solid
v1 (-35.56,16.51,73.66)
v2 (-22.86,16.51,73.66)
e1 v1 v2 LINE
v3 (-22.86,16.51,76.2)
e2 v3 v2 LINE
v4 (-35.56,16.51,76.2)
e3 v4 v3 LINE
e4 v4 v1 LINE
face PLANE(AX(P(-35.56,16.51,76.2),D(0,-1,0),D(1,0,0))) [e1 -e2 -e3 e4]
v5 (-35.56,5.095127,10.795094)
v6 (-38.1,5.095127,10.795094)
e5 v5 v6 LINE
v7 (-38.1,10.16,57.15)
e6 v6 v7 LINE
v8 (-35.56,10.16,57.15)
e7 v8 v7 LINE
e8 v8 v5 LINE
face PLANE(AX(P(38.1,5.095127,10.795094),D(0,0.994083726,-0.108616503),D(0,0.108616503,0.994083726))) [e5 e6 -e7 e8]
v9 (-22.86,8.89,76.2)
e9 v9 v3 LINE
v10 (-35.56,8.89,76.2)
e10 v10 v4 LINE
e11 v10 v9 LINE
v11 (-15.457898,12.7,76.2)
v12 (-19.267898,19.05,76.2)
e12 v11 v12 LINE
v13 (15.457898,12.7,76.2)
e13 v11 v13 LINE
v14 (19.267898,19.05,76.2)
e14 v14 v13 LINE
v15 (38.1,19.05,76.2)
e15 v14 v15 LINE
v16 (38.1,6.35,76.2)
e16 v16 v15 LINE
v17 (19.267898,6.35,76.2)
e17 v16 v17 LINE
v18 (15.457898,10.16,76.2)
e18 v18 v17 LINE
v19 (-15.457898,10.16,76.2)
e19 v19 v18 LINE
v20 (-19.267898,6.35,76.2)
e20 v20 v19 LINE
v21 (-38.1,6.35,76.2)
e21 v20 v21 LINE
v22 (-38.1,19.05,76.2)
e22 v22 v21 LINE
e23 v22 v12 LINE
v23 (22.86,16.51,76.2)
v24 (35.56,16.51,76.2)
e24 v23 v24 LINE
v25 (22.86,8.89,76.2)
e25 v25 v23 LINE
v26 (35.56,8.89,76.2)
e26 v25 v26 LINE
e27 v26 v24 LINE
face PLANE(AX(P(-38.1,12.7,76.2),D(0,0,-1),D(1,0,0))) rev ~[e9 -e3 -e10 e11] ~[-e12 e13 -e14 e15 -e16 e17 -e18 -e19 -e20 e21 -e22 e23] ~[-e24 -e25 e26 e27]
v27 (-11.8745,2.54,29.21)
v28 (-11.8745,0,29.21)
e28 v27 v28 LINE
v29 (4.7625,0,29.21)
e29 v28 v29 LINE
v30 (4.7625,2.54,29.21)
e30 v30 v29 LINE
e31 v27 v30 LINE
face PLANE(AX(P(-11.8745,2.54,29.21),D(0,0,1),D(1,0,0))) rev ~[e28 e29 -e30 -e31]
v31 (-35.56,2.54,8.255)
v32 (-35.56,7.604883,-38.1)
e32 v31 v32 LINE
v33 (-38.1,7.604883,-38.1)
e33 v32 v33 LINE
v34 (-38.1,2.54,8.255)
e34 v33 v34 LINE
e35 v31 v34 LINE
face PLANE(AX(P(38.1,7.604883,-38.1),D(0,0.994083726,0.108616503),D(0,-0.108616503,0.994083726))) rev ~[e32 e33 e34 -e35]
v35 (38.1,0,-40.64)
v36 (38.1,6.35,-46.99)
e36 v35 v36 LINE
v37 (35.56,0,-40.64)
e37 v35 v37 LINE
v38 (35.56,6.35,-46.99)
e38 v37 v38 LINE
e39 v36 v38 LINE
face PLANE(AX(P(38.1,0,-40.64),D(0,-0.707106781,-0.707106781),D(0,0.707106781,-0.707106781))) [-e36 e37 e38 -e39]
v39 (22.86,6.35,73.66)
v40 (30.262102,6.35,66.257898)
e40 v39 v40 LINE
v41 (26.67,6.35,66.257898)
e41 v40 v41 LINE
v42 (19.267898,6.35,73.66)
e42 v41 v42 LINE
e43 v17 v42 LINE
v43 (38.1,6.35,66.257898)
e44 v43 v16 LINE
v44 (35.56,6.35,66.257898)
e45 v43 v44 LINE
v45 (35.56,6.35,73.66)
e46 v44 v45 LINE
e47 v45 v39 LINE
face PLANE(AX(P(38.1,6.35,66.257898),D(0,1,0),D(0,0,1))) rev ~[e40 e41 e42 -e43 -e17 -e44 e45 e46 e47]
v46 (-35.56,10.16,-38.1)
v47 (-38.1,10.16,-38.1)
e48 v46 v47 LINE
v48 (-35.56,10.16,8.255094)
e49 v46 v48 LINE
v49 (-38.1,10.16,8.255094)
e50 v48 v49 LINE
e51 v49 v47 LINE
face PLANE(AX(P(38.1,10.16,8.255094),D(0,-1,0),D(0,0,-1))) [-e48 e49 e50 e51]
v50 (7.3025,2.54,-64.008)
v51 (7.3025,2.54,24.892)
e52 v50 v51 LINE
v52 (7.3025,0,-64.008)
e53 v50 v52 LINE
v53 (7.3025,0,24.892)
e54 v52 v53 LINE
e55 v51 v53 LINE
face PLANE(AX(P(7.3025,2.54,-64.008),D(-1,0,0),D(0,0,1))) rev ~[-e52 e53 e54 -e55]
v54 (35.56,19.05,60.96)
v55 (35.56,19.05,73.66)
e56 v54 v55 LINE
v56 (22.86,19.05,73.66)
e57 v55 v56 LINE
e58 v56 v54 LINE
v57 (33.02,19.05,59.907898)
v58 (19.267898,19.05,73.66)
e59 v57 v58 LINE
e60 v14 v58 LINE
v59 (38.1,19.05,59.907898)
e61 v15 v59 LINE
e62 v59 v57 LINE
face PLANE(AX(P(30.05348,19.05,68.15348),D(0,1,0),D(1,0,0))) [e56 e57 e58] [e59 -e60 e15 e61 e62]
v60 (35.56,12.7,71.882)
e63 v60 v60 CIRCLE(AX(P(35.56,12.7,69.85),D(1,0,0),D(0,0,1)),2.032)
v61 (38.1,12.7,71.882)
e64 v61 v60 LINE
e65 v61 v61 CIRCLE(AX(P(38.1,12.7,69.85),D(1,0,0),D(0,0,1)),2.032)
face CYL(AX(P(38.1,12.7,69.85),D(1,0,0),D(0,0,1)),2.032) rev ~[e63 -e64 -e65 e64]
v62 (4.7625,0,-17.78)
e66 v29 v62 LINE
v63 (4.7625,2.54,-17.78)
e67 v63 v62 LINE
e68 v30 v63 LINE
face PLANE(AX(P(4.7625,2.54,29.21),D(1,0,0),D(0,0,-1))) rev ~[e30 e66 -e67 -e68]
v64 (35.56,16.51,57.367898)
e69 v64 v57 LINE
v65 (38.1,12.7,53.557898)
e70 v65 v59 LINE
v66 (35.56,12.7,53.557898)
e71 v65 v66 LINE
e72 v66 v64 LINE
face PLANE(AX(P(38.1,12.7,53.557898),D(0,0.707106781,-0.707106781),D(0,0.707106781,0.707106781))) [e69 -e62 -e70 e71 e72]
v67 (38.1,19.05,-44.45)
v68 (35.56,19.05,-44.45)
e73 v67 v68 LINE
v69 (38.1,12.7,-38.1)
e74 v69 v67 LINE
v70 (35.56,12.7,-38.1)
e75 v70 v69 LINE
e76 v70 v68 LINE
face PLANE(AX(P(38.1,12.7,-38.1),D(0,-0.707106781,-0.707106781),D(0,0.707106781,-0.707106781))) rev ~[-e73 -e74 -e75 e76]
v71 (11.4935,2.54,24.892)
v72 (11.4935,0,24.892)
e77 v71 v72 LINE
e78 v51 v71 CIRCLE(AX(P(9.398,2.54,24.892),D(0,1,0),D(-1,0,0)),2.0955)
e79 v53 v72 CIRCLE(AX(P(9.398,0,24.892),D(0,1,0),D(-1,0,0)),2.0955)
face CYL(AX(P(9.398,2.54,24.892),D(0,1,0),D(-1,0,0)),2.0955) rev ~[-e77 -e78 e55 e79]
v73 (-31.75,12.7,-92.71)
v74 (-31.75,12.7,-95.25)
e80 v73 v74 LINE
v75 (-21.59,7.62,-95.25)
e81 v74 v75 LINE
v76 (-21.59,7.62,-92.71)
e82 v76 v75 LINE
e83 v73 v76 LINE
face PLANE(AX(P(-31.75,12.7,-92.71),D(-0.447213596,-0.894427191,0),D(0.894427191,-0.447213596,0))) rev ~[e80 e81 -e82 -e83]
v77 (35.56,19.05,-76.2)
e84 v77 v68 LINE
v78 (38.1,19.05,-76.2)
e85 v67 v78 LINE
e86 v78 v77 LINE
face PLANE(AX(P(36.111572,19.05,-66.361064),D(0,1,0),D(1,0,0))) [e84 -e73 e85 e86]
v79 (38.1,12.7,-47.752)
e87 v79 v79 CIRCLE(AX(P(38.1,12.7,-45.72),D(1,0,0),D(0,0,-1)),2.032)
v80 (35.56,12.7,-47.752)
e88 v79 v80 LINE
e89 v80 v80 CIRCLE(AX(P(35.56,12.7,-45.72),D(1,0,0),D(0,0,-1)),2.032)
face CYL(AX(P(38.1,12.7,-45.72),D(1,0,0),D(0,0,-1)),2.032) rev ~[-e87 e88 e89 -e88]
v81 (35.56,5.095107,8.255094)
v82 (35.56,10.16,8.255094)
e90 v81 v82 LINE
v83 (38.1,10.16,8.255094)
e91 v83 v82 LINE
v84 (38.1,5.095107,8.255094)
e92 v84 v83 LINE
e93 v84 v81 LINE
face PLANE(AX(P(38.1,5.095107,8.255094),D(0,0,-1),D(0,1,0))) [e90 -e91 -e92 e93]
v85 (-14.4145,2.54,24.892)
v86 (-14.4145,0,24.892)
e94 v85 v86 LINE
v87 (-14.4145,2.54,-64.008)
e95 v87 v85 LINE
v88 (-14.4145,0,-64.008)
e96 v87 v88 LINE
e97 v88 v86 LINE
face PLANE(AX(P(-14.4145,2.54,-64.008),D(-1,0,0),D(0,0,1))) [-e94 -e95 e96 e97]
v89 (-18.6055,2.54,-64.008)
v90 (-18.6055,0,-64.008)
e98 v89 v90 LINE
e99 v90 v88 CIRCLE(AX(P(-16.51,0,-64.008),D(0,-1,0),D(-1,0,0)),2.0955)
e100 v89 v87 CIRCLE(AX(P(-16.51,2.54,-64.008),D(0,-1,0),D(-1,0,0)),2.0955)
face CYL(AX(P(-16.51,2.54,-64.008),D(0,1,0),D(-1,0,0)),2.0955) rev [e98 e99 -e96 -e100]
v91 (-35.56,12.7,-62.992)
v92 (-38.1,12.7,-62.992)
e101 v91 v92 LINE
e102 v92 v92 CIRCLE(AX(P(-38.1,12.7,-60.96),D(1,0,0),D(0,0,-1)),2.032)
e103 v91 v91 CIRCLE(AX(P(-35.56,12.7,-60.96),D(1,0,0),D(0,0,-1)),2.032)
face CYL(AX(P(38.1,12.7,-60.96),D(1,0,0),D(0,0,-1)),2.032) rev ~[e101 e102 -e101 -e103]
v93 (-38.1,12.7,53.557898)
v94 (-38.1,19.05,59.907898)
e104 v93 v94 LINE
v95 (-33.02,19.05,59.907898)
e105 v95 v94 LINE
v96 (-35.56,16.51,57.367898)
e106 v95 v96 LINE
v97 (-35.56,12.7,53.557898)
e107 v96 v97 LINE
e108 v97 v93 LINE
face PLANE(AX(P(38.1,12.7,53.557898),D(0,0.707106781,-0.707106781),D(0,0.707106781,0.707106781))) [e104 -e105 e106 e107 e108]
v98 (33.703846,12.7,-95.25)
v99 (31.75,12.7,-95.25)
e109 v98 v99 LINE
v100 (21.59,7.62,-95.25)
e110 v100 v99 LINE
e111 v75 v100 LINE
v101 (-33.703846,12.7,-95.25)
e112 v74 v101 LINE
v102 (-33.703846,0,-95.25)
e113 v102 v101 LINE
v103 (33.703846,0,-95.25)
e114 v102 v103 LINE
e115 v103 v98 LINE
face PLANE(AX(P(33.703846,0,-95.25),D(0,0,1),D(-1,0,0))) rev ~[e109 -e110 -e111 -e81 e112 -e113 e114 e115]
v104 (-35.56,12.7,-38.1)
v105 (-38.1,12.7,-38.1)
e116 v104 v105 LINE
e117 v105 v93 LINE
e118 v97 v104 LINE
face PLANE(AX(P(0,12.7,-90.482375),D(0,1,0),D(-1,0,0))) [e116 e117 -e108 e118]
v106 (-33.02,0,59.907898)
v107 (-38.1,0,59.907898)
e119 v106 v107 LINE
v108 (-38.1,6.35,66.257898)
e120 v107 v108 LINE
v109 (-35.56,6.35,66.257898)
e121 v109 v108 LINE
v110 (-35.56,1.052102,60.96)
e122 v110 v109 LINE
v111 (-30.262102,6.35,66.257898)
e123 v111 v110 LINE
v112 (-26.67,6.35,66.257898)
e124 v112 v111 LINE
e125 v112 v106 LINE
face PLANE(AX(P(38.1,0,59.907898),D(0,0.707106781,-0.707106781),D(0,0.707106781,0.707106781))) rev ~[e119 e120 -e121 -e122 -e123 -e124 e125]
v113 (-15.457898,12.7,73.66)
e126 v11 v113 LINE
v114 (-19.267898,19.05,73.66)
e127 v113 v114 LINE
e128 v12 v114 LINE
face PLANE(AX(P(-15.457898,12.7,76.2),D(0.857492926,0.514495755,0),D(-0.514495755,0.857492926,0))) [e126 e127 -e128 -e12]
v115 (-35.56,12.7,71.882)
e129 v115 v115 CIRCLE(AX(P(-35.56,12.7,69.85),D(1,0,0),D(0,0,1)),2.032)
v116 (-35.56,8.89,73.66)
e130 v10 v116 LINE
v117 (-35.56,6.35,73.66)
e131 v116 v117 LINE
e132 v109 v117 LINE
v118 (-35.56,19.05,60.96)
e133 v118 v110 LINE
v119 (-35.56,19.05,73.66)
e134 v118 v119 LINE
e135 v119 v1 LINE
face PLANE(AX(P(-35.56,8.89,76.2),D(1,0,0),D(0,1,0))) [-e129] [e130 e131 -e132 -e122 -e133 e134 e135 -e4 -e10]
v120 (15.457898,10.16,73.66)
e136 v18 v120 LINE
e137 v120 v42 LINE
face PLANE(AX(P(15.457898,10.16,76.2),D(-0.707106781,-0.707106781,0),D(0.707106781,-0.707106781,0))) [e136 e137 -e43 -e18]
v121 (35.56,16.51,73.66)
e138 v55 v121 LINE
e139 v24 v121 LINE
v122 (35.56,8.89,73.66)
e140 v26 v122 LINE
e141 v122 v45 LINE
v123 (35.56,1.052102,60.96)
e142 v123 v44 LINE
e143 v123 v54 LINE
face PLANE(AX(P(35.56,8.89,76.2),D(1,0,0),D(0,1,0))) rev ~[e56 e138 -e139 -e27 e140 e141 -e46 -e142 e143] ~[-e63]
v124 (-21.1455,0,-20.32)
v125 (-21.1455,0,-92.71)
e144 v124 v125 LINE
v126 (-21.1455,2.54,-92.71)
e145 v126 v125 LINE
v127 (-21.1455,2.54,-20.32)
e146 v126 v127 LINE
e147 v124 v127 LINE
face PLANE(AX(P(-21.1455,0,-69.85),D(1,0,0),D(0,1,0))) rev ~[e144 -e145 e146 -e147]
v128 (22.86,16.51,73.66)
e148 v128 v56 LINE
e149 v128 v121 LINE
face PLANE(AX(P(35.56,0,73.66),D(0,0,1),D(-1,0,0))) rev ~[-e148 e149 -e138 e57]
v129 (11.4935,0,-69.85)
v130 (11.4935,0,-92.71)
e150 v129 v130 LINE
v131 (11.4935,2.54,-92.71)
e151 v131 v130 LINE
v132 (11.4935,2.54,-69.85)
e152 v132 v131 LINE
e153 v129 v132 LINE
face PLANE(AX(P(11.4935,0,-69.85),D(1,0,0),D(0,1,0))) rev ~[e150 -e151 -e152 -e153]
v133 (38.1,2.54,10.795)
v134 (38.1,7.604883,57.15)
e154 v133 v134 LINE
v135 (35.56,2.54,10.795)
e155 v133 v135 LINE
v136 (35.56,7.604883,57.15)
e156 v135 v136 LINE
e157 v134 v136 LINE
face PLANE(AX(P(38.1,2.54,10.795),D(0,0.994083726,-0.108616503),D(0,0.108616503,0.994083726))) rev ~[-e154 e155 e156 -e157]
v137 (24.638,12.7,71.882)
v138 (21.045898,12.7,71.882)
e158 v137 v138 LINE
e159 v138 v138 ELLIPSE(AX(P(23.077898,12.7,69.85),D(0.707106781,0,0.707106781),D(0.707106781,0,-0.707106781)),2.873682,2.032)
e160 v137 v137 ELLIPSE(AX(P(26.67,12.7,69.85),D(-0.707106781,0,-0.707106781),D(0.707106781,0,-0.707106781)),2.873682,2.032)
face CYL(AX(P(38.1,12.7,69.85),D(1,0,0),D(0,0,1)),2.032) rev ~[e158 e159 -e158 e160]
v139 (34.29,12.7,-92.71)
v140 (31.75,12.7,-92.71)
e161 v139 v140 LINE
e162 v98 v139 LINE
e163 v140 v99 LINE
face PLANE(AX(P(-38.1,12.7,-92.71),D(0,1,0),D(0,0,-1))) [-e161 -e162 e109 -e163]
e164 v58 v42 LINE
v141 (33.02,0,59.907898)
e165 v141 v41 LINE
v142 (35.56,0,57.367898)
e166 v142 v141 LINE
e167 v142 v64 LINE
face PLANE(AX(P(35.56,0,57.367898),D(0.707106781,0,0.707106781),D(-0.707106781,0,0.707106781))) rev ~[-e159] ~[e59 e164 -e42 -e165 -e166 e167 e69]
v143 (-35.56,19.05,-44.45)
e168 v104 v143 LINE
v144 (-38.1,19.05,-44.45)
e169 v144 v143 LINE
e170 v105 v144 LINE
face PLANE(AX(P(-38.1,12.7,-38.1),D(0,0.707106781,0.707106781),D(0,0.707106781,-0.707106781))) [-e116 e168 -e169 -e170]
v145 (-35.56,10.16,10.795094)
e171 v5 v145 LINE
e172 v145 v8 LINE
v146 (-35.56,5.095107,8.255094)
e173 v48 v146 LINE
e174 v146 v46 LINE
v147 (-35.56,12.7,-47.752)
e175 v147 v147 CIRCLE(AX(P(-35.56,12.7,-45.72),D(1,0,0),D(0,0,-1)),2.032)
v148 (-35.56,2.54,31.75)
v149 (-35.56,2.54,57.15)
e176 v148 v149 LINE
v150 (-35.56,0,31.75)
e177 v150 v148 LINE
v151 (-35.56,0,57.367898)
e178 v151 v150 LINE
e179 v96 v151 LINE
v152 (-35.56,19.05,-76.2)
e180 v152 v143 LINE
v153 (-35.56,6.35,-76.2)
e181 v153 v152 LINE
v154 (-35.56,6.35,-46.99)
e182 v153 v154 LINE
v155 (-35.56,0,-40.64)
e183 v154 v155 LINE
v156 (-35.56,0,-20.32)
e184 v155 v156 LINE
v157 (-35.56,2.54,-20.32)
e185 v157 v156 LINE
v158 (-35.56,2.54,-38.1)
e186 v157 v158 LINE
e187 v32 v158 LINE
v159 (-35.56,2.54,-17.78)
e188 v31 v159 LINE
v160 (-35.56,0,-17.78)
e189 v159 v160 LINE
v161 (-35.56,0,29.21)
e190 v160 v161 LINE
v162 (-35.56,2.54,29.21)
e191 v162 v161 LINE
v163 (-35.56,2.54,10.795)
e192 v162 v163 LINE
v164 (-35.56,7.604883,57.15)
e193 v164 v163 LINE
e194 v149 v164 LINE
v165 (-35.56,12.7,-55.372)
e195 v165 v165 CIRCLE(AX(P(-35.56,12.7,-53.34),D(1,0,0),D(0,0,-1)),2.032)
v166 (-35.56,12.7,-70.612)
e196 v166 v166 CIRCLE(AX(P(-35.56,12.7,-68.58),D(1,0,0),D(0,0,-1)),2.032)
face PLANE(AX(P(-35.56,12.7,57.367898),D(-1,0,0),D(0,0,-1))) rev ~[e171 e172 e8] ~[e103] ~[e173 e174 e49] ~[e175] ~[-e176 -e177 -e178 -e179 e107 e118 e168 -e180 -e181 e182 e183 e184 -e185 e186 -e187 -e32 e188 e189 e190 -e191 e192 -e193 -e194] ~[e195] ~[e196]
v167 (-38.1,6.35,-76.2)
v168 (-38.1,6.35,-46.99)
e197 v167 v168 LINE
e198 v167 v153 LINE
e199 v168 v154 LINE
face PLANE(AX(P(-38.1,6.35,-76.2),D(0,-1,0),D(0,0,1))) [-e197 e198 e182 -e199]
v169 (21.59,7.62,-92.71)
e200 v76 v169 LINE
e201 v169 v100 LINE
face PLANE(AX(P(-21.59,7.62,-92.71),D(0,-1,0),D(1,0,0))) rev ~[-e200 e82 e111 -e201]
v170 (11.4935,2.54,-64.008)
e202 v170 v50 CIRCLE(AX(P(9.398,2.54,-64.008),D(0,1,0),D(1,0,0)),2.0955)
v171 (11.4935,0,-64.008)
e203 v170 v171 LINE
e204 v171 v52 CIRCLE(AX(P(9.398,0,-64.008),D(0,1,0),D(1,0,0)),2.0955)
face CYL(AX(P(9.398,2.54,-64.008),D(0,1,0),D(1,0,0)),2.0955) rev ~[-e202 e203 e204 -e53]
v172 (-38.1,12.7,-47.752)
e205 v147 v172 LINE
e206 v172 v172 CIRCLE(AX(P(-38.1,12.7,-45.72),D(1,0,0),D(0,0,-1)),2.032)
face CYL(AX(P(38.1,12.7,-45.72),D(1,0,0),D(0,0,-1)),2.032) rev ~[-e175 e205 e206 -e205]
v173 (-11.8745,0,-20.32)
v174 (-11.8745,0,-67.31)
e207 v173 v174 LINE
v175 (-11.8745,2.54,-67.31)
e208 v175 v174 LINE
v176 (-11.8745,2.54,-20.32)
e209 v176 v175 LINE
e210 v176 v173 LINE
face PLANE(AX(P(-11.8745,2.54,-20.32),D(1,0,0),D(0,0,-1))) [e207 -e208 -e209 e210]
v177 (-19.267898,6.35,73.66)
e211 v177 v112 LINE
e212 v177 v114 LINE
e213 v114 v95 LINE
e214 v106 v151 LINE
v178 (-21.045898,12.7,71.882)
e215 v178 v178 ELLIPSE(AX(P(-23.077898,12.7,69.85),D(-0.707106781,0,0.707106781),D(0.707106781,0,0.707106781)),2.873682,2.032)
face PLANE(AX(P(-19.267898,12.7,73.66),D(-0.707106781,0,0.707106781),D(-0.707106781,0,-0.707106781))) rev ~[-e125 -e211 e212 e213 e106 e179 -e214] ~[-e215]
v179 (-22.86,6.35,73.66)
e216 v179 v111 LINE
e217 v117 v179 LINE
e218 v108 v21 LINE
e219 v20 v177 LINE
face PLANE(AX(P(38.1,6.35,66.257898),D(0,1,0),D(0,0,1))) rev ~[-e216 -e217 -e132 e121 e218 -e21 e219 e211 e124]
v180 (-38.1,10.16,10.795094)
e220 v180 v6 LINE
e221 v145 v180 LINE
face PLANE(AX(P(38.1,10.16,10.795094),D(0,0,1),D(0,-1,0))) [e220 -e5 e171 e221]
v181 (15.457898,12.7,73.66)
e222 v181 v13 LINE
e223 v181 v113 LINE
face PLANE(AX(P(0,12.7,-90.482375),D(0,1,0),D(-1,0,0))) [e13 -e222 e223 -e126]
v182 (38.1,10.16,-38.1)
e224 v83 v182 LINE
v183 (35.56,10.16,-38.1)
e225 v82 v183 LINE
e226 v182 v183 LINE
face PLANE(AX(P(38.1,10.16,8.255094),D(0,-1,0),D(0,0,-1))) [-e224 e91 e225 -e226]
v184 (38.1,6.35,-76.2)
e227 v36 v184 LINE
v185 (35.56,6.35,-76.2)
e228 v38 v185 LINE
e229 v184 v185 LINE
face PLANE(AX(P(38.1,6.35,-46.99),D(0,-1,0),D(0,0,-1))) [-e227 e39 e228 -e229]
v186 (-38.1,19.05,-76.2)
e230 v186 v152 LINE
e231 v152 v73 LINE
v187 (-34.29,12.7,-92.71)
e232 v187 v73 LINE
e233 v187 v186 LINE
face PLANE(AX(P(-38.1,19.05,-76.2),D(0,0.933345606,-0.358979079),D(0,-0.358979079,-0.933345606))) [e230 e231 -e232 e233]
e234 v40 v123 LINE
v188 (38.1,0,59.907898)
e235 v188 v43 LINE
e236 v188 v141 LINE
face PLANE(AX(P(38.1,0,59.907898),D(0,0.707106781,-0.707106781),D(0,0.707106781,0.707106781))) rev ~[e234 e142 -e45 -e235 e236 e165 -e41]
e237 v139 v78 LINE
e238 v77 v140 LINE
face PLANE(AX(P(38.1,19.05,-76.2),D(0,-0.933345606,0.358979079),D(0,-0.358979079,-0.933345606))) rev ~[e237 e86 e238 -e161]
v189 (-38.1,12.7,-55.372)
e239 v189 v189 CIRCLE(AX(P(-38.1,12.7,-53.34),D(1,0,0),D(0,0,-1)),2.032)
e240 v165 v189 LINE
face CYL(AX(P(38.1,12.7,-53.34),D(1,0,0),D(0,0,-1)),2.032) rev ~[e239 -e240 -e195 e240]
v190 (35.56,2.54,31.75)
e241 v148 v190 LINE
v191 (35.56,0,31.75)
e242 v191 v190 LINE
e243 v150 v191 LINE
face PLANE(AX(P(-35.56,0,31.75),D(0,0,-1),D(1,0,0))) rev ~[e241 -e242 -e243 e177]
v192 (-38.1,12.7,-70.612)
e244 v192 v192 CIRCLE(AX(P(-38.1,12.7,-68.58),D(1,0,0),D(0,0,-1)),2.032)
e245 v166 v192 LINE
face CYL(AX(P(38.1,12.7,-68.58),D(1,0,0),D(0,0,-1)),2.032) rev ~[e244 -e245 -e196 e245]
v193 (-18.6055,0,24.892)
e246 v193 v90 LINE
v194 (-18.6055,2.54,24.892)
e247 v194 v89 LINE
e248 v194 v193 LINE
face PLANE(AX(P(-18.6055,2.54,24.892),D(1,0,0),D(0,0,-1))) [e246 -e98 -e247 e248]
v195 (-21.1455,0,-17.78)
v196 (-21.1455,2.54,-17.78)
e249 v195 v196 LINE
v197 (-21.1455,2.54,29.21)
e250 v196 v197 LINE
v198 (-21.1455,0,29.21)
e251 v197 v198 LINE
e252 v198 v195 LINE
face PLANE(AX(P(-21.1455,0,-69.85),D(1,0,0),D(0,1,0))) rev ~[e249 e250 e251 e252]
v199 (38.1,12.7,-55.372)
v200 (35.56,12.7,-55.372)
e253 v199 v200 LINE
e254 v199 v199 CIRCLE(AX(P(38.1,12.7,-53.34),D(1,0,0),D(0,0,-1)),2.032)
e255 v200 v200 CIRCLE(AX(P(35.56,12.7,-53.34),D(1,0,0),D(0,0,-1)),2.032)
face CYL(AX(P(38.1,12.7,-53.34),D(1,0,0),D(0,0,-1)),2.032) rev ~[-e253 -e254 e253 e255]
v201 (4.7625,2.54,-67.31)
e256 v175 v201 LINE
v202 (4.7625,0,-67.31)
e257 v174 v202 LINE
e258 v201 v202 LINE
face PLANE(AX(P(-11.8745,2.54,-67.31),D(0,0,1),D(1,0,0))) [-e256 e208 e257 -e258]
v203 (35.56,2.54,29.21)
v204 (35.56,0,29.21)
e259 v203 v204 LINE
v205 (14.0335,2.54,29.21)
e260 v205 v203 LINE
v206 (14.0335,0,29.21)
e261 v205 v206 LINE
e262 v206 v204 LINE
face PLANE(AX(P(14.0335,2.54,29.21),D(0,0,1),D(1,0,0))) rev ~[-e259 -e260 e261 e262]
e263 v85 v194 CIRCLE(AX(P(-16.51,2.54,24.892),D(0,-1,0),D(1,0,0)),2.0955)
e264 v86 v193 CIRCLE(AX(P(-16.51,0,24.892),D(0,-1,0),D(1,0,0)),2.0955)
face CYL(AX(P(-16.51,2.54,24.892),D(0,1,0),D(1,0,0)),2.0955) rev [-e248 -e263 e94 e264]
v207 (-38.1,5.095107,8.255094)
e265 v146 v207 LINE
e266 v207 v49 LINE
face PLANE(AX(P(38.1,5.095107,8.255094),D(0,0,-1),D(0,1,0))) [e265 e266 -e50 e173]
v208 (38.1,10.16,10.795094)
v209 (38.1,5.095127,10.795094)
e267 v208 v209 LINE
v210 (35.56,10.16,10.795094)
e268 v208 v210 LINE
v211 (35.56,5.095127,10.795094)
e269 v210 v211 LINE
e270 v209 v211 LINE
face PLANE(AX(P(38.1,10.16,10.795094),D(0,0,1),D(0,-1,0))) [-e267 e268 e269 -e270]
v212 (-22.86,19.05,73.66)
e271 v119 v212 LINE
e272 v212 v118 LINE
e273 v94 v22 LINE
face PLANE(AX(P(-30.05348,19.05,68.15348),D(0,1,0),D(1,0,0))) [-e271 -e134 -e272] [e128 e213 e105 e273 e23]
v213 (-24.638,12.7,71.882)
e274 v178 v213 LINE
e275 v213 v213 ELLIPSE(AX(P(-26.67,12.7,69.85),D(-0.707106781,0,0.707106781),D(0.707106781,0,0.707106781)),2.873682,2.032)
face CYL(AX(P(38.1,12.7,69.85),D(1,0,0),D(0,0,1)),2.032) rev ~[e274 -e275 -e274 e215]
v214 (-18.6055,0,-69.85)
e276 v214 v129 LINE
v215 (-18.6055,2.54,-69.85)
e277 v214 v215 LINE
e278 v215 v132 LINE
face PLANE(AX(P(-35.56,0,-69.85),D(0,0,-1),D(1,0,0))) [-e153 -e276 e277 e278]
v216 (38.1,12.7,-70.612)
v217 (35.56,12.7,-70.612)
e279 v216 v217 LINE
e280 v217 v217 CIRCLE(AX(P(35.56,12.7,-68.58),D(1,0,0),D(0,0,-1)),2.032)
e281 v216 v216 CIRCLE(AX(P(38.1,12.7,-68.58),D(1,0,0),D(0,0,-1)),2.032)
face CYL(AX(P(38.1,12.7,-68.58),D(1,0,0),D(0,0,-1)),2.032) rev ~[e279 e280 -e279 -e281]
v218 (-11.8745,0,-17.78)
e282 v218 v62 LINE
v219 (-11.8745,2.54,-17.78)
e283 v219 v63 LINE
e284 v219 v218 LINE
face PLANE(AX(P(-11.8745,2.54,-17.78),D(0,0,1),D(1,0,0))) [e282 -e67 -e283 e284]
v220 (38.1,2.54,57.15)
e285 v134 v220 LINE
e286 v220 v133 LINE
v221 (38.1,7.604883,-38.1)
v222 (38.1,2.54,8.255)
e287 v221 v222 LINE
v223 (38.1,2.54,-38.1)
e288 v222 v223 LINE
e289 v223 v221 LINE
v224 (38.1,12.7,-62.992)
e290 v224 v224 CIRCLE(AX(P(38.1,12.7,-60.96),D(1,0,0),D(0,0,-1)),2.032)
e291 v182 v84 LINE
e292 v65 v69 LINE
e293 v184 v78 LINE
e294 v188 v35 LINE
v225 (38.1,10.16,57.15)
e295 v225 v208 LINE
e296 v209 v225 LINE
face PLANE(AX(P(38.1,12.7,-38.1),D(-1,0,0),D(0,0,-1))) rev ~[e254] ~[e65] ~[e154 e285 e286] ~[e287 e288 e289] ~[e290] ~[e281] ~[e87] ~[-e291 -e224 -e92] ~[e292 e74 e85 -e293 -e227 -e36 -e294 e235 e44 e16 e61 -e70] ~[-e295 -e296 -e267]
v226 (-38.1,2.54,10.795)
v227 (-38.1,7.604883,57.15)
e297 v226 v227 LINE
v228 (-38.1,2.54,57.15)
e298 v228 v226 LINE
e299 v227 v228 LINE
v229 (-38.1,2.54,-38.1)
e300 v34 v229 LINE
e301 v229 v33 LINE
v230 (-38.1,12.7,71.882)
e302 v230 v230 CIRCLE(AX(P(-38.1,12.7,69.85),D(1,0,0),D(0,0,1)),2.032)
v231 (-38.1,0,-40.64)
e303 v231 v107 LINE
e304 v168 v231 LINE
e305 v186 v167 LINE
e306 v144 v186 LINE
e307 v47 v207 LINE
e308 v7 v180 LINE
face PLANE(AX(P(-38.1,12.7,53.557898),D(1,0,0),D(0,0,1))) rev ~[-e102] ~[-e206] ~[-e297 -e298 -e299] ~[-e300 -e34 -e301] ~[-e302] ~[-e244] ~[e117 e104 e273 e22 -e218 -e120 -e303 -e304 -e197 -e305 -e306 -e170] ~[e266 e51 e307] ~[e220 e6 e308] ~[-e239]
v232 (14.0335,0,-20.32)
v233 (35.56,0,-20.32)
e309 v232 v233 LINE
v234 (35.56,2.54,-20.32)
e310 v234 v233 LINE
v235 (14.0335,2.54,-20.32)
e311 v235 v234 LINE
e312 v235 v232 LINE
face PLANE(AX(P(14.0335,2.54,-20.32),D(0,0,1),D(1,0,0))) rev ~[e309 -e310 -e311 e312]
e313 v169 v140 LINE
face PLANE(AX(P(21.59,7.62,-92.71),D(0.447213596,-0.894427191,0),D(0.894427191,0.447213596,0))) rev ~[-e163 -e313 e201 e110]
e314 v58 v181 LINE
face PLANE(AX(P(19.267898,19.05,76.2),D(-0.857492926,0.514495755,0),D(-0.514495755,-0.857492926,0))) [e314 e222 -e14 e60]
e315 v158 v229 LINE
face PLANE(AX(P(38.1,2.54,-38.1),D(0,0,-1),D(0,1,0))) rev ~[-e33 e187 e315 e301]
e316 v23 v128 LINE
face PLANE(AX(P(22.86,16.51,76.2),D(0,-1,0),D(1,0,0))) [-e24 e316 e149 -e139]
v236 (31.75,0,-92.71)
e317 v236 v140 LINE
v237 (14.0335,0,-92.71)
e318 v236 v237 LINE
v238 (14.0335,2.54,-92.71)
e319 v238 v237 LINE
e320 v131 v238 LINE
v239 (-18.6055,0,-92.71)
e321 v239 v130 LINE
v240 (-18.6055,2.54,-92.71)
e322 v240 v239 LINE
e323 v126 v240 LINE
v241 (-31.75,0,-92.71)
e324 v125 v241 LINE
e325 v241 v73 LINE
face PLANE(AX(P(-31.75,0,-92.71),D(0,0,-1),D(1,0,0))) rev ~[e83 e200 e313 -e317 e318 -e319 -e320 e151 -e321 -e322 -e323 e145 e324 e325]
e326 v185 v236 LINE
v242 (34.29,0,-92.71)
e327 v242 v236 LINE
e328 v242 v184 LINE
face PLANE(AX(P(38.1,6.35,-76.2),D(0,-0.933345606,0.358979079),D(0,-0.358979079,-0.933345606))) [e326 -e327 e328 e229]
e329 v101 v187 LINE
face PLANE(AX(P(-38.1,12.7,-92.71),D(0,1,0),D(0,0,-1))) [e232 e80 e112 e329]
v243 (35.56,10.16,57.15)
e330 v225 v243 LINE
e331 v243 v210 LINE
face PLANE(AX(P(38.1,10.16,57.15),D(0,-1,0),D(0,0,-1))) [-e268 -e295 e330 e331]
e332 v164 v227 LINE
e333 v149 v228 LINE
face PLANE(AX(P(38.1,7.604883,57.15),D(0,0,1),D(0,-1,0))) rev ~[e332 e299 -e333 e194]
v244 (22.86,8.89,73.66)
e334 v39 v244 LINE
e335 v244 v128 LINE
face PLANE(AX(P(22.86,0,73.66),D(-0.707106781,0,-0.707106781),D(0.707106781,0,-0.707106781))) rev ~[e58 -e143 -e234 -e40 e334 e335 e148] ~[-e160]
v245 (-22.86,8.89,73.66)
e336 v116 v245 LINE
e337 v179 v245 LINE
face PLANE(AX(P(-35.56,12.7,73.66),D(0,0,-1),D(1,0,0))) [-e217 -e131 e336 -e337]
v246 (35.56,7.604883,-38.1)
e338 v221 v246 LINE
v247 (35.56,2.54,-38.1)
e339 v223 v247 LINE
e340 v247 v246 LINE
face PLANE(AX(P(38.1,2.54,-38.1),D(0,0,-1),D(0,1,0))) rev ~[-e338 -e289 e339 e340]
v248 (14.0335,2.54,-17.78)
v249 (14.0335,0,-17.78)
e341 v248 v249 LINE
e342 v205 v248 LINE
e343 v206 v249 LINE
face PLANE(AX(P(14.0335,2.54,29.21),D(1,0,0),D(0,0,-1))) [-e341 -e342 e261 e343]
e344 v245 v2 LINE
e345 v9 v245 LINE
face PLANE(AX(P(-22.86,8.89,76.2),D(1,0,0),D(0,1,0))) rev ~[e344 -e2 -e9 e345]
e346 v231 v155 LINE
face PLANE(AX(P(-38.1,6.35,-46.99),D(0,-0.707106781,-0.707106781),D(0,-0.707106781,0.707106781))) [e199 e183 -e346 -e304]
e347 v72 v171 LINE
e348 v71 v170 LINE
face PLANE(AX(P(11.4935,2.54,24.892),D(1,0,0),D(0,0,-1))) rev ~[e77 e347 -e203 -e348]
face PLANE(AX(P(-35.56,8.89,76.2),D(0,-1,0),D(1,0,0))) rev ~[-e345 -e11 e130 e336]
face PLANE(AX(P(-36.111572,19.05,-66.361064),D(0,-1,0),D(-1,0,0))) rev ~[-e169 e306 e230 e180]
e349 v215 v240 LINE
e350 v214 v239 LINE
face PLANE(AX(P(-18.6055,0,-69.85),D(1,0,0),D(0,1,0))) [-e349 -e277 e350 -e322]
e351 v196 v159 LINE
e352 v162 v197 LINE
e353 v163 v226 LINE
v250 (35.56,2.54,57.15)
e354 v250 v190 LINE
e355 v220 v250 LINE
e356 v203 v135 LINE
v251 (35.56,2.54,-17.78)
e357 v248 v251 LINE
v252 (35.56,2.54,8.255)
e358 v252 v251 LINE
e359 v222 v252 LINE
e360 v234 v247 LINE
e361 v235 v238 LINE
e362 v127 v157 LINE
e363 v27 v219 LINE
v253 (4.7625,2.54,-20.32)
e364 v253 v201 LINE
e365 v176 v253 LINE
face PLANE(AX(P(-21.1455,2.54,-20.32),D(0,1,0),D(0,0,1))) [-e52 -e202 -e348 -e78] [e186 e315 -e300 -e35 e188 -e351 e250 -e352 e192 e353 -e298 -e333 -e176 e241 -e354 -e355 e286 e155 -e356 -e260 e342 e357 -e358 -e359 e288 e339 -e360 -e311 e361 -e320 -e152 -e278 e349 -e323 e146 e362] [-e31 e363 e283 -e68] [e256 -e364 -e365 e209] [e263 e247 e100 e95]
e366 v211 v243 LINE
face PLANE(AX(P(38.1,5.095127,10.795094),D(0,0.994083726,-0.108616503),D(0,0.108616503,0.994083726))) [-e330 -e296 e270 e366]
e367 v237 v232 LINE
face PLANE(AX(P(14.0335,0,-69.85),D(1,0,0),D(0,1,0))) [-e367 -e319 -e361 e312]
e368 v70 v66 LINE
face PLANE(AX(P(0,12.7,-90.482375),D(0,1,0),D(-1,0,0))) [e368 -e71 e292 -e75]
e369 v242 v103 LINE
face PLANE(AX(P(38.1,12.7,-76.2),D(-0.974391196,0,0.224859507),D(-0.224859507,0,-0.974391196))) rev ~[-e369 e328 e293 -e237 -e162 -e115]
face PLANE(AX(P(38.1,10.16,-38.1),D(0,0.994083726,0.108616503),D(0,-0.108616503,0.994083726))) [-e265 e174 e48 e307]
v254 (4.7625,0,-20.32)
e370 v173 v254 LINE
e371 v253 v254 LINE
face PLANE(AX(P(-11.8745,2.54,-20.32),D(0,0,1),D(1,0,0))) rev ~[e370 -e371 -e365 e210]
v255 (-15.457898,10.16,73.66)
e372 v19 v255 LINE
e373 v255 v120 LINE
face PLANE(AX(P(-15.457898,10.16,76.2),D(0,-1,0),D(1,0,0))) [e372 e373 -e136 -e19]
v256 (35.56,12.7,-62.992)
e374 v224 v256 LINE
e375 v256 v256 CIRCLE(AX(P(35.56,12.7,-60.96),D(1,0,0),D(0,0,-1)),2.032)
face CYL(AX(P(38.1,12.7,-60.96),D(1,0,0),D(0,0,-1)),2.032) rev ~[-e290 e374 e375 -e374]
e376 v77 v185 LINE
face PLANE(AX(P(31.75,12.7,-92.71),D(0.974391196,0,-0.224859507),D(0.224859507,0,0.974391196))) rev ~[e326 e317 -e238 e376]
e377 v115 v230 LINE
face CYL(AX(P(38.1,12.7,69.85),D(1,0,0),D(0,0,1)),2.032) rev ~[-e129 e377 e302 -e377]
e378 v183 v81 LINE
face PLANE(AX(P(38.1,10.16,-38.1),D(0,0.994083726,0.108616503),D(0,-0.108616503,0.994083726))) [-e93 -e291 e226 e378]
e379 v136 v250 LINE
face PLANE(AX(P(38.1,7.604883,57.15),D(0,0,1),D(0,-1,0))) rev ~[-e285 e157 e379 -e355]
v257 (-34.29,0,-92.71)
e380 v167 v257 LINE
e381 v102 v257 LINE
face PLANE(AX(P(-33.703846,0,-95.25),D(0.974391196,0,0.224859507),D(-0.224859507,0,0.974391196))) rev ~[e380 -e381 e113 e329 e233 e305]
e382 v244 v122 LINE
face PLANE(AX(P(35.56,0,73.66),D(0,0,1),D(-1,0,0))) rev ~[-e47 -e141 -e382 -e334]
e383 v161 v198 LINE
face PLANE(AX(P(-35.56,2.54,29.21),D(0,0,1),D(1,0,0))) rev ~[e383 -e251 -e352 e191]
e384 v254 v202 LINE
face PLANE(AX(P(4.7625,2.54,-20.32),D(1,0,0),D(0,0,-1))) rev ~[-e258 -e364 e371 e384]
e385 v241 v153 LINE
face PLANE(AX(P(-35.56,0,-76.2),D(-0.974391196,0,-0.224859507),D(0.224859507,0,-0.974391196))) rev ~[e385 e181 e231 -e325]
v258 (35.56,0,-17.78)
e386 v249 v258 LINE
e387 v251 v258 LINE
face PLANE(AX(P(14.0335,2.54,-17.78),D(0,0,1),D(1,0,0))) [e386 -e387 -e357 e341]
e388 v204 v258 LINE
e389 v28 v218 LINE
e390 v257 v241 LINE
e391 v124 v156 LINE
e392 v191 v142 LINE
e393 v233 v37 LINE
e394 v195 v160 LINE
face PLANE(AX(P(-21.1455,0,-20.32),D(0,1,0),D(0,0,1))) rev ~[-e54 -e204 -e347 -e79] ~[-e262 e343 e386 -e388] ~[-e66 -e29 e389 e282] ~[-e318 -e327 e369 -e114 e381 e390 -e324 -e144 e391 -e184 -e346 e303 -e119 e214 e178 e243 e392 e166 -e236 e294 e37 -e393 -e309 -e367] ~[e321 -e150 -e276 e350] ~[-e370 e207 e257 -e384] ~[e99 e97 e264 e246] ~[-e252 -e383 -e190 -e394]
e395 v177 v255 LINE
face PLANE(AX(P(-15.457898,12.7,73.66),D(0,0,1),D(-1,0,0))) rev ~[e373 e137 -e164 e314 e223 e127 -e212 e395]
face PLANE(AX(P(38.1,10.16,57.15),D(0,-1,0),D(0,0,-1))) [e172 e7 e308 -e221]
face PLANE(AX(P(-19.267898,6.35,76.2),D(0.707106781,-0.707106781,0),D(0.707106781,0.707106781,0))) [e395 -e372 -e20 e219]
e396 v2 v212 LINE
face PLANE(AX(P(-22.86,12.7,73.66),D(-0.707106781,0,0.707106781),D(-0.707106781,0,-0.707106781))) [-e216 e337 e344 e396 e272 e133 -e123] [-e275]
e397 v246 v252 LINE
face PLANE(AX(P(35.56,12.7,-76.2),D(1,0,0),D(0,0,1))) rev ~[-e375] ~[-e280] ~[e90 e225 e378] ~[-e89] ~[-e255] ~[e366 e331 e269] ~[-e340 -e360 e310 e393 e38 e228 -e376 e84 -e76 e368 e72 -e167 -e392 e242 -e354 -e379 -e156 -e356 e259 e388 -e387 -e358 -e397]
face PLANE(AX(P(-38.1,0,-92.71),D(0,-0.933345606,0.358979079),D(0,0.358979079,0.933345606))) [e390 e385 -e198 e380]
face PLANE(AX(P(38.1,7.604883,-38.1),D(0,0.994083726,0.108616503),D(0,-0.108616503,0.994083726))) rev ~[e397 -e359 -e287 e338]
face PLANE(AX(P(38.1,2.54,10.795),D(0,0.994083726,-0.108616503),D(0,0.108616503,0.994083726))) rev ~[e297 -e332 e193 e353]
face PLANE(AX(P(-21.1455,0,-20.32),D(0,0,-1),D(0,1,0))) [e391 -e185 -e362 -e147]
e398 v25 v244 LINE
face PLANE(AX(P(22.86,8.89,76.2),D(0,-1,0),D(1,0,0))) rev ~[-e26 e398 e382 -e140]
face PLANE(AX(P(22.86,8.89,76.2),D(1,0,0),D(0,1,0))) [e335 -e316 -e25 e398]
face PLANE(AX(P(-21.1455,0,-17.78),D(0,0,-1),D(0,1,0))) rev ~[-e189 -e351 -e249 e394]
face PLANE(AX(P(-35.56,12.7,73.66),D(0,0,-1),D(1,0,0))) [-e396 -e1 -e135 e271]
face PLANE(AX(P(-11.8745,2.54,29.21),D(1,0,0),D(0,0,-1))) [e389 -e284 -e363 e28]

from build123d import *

# Parameters (mm, degrees)
BOSS_EXTRUDE1_DEPTH = 12.7
CUT_EXTRUDE3_DEPTH  = 77.2
SKETCH8_W           = 71.12
SKETCH8_H           = 101.6
BOSS_EXTRUDE3_DEPTH = 2.54
SKETCH9_W           = 14.4145
SKETCH9_H           = 99.06
SKETCH9_W_2         = 21.5265
SKETCH9_H_2         = 49.53
SKETCH9_W_3         = 16.637
SKETCH9_H_3         = 46.99
CUT_EXTRUDE4_DEPTH  = 2.54
BOSS_EXTRUDE4_DEPTH = 12.7
SKETCH19_W          = 2.54
SKETCH19_H          = 2.54
BOSS_EXTRUDE6_DEPTH = 25.4
BOSS_EXTRUDE7_DEPTH = 6.35
BOSS_EXTRUDE8_DEPTH = 6.35
CUT_EXTRUDE9_DEPTH  = 77.2
CUT_EXTRUDE10_DEPTH = 2.54
SKETCH28_W          = 12.7
SKETCH28_H          = 7.62
CUT_EXTRUDE11_DEPTH = 2.54
CUT_EXTRUDE12_DEPTH = 12.7
CUT_EXTRUDE13_DEPTH = 12.7
SKETCH32_R          = 2.032
CUT_EXTRUDE15_DEPTH = 77.2
SKETCH33_W          = 2.54
SKETCH33_H          = 2.54
BOSS_EXTRUDE9_DEPTH = 15.24
CUT_EXTRUDE17_DEPTH = 2.54


with BuildPart() as part:
    # Sketch1 → Boss-Extrude1 (new body)
    with BuildSketch(Plane(origin=(0, 0, 0), x_dir=(1, 0, 0), z_dir=(0, 1, 0))):
        Polygon((38.1, -76.2), (38.1, 76.2), (35.56, 76.2), (35.56, -57.367897552), (19.267897552, -73.66), (-19.267897552, -73.66), (-35.56, -57.367897552), (-35.56, 76.2), (-38.1, 76.2), (-38.1, -76.2), align=None)
        Polygon((-35.56, -73.66), (-22.86, -73.66), (-35.56, -60.96), align=None, mode=Mode.SUBTRACT)
        Polygon((22.86, -73.66), (35.56, -60.96), (35.56, -73.66), align=None, mode=Mode.SUBTRACT)
    extrude(amount=BOSS_EXTRUDE1_DEPTH)

    # Sketch7 → Cut-Extrude3 (cut, through all)
    with BuildSketch(Plane(origin=(38.1, 0, 0), x_dir=(0, 0, -1), z_dir=(1, 0, 0))):
        Polygon((-57.15, 10.16), (-10.795093656, 10.16), (-10.795093656, 5.095127003), align=None)
        Polygon((-57.15, 7.60488323), (-57.15, 2.54), (-10.795, 2.54), align=None)
        Polygon((-8.255093656, 10.16), (38.1, 10.16), (-8.255093656, 5.095106537), align=None)
        Polygon((-8.255, 2.54), (38.1, 2.54), (38.1, 7.60488323), align=None)
    extrude(amount=-CUT_EXTRUDE3_DEPTH, mode=Mode.SUBTRACT)

    # Sketch8 → Boss-Extrude3 (add)
    with BuildSketch(Plane.XZ):
        with Locations((0, -19.05)):
            Rectangle(SKETCH8_W, SKETCH8_H)
    extrude(amount=-BOSS_EXTRUDE3_DEPTH)

    # Sketch9 → Cut-Extrude4 (cut)
    with BuildSketch(Plane(origin=(0, 2.54, 0), x_dir=(1, 0, 0), z_dir=(0, 1, 0))):
        with Locations((-28.35275, 20.32)):
            Rectangle(SKETCH9_W, SKETCH9_H)
        with BuildLine():
            Line((-14.4145, 64.008), (-14.4145, -24.892))
            ThreePointArc((-14.4145, -24.892), (-16.51, -26.9875), (-18.6055, -24.892))
            Line((-18.6055, -24.892), (-18.6055, 64.008))
            ThreePointArc((-18.6055, 64.008), (-16.51, 66.1035), (-14.4145, 64.008))
        make_face()
        with Locations((24.79675, 45.085)):
            Rectangle(SKETCH9_W_2, SKETCH9_H_2)
        with Locations((-3.556, 43.815)):
            Rectangle(SKETCH9_W_3, SKETCH9_H_3)
        with BuildLine():
            Line((7.3025, 64.008), (7.3025, -24.892))
            ThreePointArc((7.3025, -24.892), (9.398, -26.9875), (11.4935, -24.892))
            Line((11.4935, -24.892), (11.4935, 64.008))
            ThreePointArc((11.4935, 64.008), (9.398, 66.1035), (7.3025, 64.008))
        make_face()
        with Locations((-3.556, -5.715)):
            Rectangle(SKETCH9_W_3, SKETCH9_H_3)
        with Locations((24.79675, -5.715)):
            Rectangle(SKETCH9_W_2, SKETCH9_H_3)
    extrude(amount=-CUT_EXTRUDE4_DEPTH, mode=Mode.SUBTRACT)

    # Sketch16 → Boss-Extrude4 (add)
    with BuildSketch(Plane.XZ):
        Polygon((-35.56, -76.2), (-31.75, -92.71), (31.75, -92.71), (35.56, -76.2), (38.1, -76.2), (33.703846154, -95.25), (-33.703846154, -95.25), (-38.1, -76.2), align=None)
    extrude(amount=-BOSS_EXTRUDE4_DEPTH)

    # Sketch19 → Boss-Extrude6 (add)
    with BuildSketch(Plane(origin=(0, 0, -69.85), x_dir=(-1, 0, 0), z_dir=(0, 0, -1))):
        with Locations((19.8755, 1.27)):
            Rectangle(SKETCH19_W, SKETCH19_H)
        with Locations((-12.7635, 1.27)):
            Rectangle(SKETCH19_W, SKETCH19_H)
    extrude(amount=BOSS_EXTRUDE6_DEPTH)

    # Sketch21 → Boss-Extrude7 (add)
    with BuildSketch(Plane(origin=(0, 12.7, 0), x_dir=(1, 0, 0), z_dir=(0, 1, 0))):
        Polygon((38.1, 38.1), (38.1, 76.2), (33.703846154, 95.25), (31.75, 92.71), (35.56, 76.2), (35.56, 38.1), align=None)
        Polygon((-35.56, 38.1), (-38.1, 38.1), (-38.1, 76.2), (-33.703846154, 95.25), (-31.75, 92.71), (-35.56, 76.2), align=None)
    extrude(amount=BOSS_EXTRUDE7_DEPTH)

    # Sketch24 → Boss-Extrude8 (add)
    with BuildSketch(Plane(origin=(0, 12.7, 0), x_dir=(1, 0, 0), z_dir=(0, 1, 0))):
        Polygon((-38.1, -57.367897552), (-38.1, -76.2), (-19.267897552, -76.2), (-15.457897552, -76.2), (-15.457897552, -73.66), (-19.267897552, -73.66), (-35.56, -57.367897552), (-35.56, -53.557897552), (-38.1, -53.557897552), align=None)
        Polygon((-22.86, -73.66), (-35.56, -60.96), (-35.56, -73.66), align=None, mode=Mode.SUBTRACT)
        Polygon((19.267897552, -76.2), (38.1, -76.2), (38.1, -57.367897552), (38.1, -53.557897552), (35.56, -53.557897552), (35.56, -57.367897552), (19.267897552, -73.66), (15.457897552, -73.66), (15.457897552, -76.2), align=None)
        Polygon((22.86, -73.66), (35.56, -60.96), (35.56, -73.66), align=None, mode=Mode.SUBTRACT)
    extrude(amount=BOSS_EXTRUDE8_DEPTH)

    # Sketch26 → Cut-Extrude9 (cut, through all)
    with BuildSketch(Plane(origin=(38.1, 0, 0), x_dir=(0, 0, -1), z_dir=(1, 0, 0))):
        Polygon((-53.557897552, 12.7), (-59.907897552, 19.05), (-53.557897552, 19.05), align=None)
        Polygon((-59.907897552, 0), (-66.257897552, 6.35), (-76.2, 6.35), (-76.2, 0), align=None)
    extrude(amount=-CUT_EXTRUDE9_DEPTH, mode=Mode.SUBTRACT)

    # Sketch27 → Cut-Extrude10 (cut)
    with BuildSketch(Plane.XY.offset(76.2)):
        Polygon((-15.457897552, 12.7), (-19.267897552, 19.05), (-15.457897552, 19.05), align=None)
        Polygon((15.457897552, 12.7), (15.457897552, 19.05), (19.267897552, 19.05), align=None)
        Polygon((-19.267897552, 6.35), (-15.457897552, 10.16), (15.457897552, 10.16), (19.267897552, 6.35), align=None)
    extrude(amount=-CUT_EXTRUDE10_DEPTH, mode=Mode.SUBTRACT)

    # Sketch28 → Cut-Extrude11 (cut)
    with BuildSketch(Plane.XY.offset(76.2)):
        with Locations((-29.21, 12.7)):
            Rectangle(SKETCH28_W, SKETCH28_H)
        with Locations((29.21, 12.7)):
            Rectangle(SKETCH28_W, SKETCH28_H)
    extrude(amount=-CUT_EXTRUDE11_DEPTH, mode=Mode.SUBTRACT)

    # Sketch29 → Cut-Extrude12 (cut)
    with BuildSketch(Plane(origin=(38.1, 0, 0), x_dir=(0, 0, -1), z_dir=(1, 0, 0))):
        Polygon((38.1, 12.7), (44.45, 19.05), (38.1, 19.05), align=None)
        Polygon((40.64, 0), (46.99, 6.35), (76.2, 6.35), (92.71, 0), align=None)
        Polygon((76.2, 19.05), (92.71, 12.7), (95.25, 12.7), (95.25, 19.05), align=None)
    extrude(amount=-CUT_EXTRUDE12_DEPTH, mode=Mode.SUBTRACT)

    # Sketch30 → Cut-Extrude13 (cut)
    with BuildSketch(Plane.ZY.offset(38.1)):
        Polygon((-38.1, 12.7), (-44.45, 19.05), (-38.1, 19.05), align=None)
        Polygon((-46.99, 6.35), (-40.64, 0), (-92.71, 0), (-76.2, 6.35), align=None)
        Polygon((-76.2, 19.05), (-92.71, 12.7), (-95.25, 12.7), (-95.25, 19.05), align=None)
    extrude(amount=-CUT_EXTRUDE13_DEPTH, mode=Mode.SUBTRACT)

    # Sketch32 → Cut-Extrude15 (cut, through all)
    with BuildSketch(Plane(origin=(38.1, 0, 0), x_dir=(0, 0, -1), z_dir=(1, 0, 0))):
        with Locations((45.72, 12.7)):
            Circle(SKETCH32_R)
        with Locations((53.34, 12.7)):
            Circle(SKETCH32_R)
        with Locations((60.96, 12.7)):
            Circle(SKETCH32_R)
        with Locations((68.58, 12.7)):
            Circle(SKETCH32_R)
        with Locations(Location((-69.85, 12.7, 0), (0, 0, 180))):  # turned: the seam where the file's is
            Circle(SKETCH32_R)
    extrude(amount=-CUT_EXTRUDE15_DEPTH, mode=Mode.SUBTRACT)

    # Sketch33 → Boss-Extrude9 (add)
    with BuildSketch(Plane.ZY.offset(21.1455)):
        with Locations((-19.05, 1.27)):
            Rectangle(SKETCH33_W, SKETCH33_H)
    extrude(amount=BOSS_EXTRUDE9_DEPTH)

    # Sketch35 → Cut-Extrude17 (cut)
    with BuildSketch(Plane.XY.offset(-92.71)):
        Polygon((-31.75, 12.7), (-21.59, 7.62), (21.59, 7.62), (31.75, 12.7), align=None)
    extrude(amount=-CUT_EXTRUDE17_DEPTH, mode=Mode.SUBTRACT)


solid = part.part
